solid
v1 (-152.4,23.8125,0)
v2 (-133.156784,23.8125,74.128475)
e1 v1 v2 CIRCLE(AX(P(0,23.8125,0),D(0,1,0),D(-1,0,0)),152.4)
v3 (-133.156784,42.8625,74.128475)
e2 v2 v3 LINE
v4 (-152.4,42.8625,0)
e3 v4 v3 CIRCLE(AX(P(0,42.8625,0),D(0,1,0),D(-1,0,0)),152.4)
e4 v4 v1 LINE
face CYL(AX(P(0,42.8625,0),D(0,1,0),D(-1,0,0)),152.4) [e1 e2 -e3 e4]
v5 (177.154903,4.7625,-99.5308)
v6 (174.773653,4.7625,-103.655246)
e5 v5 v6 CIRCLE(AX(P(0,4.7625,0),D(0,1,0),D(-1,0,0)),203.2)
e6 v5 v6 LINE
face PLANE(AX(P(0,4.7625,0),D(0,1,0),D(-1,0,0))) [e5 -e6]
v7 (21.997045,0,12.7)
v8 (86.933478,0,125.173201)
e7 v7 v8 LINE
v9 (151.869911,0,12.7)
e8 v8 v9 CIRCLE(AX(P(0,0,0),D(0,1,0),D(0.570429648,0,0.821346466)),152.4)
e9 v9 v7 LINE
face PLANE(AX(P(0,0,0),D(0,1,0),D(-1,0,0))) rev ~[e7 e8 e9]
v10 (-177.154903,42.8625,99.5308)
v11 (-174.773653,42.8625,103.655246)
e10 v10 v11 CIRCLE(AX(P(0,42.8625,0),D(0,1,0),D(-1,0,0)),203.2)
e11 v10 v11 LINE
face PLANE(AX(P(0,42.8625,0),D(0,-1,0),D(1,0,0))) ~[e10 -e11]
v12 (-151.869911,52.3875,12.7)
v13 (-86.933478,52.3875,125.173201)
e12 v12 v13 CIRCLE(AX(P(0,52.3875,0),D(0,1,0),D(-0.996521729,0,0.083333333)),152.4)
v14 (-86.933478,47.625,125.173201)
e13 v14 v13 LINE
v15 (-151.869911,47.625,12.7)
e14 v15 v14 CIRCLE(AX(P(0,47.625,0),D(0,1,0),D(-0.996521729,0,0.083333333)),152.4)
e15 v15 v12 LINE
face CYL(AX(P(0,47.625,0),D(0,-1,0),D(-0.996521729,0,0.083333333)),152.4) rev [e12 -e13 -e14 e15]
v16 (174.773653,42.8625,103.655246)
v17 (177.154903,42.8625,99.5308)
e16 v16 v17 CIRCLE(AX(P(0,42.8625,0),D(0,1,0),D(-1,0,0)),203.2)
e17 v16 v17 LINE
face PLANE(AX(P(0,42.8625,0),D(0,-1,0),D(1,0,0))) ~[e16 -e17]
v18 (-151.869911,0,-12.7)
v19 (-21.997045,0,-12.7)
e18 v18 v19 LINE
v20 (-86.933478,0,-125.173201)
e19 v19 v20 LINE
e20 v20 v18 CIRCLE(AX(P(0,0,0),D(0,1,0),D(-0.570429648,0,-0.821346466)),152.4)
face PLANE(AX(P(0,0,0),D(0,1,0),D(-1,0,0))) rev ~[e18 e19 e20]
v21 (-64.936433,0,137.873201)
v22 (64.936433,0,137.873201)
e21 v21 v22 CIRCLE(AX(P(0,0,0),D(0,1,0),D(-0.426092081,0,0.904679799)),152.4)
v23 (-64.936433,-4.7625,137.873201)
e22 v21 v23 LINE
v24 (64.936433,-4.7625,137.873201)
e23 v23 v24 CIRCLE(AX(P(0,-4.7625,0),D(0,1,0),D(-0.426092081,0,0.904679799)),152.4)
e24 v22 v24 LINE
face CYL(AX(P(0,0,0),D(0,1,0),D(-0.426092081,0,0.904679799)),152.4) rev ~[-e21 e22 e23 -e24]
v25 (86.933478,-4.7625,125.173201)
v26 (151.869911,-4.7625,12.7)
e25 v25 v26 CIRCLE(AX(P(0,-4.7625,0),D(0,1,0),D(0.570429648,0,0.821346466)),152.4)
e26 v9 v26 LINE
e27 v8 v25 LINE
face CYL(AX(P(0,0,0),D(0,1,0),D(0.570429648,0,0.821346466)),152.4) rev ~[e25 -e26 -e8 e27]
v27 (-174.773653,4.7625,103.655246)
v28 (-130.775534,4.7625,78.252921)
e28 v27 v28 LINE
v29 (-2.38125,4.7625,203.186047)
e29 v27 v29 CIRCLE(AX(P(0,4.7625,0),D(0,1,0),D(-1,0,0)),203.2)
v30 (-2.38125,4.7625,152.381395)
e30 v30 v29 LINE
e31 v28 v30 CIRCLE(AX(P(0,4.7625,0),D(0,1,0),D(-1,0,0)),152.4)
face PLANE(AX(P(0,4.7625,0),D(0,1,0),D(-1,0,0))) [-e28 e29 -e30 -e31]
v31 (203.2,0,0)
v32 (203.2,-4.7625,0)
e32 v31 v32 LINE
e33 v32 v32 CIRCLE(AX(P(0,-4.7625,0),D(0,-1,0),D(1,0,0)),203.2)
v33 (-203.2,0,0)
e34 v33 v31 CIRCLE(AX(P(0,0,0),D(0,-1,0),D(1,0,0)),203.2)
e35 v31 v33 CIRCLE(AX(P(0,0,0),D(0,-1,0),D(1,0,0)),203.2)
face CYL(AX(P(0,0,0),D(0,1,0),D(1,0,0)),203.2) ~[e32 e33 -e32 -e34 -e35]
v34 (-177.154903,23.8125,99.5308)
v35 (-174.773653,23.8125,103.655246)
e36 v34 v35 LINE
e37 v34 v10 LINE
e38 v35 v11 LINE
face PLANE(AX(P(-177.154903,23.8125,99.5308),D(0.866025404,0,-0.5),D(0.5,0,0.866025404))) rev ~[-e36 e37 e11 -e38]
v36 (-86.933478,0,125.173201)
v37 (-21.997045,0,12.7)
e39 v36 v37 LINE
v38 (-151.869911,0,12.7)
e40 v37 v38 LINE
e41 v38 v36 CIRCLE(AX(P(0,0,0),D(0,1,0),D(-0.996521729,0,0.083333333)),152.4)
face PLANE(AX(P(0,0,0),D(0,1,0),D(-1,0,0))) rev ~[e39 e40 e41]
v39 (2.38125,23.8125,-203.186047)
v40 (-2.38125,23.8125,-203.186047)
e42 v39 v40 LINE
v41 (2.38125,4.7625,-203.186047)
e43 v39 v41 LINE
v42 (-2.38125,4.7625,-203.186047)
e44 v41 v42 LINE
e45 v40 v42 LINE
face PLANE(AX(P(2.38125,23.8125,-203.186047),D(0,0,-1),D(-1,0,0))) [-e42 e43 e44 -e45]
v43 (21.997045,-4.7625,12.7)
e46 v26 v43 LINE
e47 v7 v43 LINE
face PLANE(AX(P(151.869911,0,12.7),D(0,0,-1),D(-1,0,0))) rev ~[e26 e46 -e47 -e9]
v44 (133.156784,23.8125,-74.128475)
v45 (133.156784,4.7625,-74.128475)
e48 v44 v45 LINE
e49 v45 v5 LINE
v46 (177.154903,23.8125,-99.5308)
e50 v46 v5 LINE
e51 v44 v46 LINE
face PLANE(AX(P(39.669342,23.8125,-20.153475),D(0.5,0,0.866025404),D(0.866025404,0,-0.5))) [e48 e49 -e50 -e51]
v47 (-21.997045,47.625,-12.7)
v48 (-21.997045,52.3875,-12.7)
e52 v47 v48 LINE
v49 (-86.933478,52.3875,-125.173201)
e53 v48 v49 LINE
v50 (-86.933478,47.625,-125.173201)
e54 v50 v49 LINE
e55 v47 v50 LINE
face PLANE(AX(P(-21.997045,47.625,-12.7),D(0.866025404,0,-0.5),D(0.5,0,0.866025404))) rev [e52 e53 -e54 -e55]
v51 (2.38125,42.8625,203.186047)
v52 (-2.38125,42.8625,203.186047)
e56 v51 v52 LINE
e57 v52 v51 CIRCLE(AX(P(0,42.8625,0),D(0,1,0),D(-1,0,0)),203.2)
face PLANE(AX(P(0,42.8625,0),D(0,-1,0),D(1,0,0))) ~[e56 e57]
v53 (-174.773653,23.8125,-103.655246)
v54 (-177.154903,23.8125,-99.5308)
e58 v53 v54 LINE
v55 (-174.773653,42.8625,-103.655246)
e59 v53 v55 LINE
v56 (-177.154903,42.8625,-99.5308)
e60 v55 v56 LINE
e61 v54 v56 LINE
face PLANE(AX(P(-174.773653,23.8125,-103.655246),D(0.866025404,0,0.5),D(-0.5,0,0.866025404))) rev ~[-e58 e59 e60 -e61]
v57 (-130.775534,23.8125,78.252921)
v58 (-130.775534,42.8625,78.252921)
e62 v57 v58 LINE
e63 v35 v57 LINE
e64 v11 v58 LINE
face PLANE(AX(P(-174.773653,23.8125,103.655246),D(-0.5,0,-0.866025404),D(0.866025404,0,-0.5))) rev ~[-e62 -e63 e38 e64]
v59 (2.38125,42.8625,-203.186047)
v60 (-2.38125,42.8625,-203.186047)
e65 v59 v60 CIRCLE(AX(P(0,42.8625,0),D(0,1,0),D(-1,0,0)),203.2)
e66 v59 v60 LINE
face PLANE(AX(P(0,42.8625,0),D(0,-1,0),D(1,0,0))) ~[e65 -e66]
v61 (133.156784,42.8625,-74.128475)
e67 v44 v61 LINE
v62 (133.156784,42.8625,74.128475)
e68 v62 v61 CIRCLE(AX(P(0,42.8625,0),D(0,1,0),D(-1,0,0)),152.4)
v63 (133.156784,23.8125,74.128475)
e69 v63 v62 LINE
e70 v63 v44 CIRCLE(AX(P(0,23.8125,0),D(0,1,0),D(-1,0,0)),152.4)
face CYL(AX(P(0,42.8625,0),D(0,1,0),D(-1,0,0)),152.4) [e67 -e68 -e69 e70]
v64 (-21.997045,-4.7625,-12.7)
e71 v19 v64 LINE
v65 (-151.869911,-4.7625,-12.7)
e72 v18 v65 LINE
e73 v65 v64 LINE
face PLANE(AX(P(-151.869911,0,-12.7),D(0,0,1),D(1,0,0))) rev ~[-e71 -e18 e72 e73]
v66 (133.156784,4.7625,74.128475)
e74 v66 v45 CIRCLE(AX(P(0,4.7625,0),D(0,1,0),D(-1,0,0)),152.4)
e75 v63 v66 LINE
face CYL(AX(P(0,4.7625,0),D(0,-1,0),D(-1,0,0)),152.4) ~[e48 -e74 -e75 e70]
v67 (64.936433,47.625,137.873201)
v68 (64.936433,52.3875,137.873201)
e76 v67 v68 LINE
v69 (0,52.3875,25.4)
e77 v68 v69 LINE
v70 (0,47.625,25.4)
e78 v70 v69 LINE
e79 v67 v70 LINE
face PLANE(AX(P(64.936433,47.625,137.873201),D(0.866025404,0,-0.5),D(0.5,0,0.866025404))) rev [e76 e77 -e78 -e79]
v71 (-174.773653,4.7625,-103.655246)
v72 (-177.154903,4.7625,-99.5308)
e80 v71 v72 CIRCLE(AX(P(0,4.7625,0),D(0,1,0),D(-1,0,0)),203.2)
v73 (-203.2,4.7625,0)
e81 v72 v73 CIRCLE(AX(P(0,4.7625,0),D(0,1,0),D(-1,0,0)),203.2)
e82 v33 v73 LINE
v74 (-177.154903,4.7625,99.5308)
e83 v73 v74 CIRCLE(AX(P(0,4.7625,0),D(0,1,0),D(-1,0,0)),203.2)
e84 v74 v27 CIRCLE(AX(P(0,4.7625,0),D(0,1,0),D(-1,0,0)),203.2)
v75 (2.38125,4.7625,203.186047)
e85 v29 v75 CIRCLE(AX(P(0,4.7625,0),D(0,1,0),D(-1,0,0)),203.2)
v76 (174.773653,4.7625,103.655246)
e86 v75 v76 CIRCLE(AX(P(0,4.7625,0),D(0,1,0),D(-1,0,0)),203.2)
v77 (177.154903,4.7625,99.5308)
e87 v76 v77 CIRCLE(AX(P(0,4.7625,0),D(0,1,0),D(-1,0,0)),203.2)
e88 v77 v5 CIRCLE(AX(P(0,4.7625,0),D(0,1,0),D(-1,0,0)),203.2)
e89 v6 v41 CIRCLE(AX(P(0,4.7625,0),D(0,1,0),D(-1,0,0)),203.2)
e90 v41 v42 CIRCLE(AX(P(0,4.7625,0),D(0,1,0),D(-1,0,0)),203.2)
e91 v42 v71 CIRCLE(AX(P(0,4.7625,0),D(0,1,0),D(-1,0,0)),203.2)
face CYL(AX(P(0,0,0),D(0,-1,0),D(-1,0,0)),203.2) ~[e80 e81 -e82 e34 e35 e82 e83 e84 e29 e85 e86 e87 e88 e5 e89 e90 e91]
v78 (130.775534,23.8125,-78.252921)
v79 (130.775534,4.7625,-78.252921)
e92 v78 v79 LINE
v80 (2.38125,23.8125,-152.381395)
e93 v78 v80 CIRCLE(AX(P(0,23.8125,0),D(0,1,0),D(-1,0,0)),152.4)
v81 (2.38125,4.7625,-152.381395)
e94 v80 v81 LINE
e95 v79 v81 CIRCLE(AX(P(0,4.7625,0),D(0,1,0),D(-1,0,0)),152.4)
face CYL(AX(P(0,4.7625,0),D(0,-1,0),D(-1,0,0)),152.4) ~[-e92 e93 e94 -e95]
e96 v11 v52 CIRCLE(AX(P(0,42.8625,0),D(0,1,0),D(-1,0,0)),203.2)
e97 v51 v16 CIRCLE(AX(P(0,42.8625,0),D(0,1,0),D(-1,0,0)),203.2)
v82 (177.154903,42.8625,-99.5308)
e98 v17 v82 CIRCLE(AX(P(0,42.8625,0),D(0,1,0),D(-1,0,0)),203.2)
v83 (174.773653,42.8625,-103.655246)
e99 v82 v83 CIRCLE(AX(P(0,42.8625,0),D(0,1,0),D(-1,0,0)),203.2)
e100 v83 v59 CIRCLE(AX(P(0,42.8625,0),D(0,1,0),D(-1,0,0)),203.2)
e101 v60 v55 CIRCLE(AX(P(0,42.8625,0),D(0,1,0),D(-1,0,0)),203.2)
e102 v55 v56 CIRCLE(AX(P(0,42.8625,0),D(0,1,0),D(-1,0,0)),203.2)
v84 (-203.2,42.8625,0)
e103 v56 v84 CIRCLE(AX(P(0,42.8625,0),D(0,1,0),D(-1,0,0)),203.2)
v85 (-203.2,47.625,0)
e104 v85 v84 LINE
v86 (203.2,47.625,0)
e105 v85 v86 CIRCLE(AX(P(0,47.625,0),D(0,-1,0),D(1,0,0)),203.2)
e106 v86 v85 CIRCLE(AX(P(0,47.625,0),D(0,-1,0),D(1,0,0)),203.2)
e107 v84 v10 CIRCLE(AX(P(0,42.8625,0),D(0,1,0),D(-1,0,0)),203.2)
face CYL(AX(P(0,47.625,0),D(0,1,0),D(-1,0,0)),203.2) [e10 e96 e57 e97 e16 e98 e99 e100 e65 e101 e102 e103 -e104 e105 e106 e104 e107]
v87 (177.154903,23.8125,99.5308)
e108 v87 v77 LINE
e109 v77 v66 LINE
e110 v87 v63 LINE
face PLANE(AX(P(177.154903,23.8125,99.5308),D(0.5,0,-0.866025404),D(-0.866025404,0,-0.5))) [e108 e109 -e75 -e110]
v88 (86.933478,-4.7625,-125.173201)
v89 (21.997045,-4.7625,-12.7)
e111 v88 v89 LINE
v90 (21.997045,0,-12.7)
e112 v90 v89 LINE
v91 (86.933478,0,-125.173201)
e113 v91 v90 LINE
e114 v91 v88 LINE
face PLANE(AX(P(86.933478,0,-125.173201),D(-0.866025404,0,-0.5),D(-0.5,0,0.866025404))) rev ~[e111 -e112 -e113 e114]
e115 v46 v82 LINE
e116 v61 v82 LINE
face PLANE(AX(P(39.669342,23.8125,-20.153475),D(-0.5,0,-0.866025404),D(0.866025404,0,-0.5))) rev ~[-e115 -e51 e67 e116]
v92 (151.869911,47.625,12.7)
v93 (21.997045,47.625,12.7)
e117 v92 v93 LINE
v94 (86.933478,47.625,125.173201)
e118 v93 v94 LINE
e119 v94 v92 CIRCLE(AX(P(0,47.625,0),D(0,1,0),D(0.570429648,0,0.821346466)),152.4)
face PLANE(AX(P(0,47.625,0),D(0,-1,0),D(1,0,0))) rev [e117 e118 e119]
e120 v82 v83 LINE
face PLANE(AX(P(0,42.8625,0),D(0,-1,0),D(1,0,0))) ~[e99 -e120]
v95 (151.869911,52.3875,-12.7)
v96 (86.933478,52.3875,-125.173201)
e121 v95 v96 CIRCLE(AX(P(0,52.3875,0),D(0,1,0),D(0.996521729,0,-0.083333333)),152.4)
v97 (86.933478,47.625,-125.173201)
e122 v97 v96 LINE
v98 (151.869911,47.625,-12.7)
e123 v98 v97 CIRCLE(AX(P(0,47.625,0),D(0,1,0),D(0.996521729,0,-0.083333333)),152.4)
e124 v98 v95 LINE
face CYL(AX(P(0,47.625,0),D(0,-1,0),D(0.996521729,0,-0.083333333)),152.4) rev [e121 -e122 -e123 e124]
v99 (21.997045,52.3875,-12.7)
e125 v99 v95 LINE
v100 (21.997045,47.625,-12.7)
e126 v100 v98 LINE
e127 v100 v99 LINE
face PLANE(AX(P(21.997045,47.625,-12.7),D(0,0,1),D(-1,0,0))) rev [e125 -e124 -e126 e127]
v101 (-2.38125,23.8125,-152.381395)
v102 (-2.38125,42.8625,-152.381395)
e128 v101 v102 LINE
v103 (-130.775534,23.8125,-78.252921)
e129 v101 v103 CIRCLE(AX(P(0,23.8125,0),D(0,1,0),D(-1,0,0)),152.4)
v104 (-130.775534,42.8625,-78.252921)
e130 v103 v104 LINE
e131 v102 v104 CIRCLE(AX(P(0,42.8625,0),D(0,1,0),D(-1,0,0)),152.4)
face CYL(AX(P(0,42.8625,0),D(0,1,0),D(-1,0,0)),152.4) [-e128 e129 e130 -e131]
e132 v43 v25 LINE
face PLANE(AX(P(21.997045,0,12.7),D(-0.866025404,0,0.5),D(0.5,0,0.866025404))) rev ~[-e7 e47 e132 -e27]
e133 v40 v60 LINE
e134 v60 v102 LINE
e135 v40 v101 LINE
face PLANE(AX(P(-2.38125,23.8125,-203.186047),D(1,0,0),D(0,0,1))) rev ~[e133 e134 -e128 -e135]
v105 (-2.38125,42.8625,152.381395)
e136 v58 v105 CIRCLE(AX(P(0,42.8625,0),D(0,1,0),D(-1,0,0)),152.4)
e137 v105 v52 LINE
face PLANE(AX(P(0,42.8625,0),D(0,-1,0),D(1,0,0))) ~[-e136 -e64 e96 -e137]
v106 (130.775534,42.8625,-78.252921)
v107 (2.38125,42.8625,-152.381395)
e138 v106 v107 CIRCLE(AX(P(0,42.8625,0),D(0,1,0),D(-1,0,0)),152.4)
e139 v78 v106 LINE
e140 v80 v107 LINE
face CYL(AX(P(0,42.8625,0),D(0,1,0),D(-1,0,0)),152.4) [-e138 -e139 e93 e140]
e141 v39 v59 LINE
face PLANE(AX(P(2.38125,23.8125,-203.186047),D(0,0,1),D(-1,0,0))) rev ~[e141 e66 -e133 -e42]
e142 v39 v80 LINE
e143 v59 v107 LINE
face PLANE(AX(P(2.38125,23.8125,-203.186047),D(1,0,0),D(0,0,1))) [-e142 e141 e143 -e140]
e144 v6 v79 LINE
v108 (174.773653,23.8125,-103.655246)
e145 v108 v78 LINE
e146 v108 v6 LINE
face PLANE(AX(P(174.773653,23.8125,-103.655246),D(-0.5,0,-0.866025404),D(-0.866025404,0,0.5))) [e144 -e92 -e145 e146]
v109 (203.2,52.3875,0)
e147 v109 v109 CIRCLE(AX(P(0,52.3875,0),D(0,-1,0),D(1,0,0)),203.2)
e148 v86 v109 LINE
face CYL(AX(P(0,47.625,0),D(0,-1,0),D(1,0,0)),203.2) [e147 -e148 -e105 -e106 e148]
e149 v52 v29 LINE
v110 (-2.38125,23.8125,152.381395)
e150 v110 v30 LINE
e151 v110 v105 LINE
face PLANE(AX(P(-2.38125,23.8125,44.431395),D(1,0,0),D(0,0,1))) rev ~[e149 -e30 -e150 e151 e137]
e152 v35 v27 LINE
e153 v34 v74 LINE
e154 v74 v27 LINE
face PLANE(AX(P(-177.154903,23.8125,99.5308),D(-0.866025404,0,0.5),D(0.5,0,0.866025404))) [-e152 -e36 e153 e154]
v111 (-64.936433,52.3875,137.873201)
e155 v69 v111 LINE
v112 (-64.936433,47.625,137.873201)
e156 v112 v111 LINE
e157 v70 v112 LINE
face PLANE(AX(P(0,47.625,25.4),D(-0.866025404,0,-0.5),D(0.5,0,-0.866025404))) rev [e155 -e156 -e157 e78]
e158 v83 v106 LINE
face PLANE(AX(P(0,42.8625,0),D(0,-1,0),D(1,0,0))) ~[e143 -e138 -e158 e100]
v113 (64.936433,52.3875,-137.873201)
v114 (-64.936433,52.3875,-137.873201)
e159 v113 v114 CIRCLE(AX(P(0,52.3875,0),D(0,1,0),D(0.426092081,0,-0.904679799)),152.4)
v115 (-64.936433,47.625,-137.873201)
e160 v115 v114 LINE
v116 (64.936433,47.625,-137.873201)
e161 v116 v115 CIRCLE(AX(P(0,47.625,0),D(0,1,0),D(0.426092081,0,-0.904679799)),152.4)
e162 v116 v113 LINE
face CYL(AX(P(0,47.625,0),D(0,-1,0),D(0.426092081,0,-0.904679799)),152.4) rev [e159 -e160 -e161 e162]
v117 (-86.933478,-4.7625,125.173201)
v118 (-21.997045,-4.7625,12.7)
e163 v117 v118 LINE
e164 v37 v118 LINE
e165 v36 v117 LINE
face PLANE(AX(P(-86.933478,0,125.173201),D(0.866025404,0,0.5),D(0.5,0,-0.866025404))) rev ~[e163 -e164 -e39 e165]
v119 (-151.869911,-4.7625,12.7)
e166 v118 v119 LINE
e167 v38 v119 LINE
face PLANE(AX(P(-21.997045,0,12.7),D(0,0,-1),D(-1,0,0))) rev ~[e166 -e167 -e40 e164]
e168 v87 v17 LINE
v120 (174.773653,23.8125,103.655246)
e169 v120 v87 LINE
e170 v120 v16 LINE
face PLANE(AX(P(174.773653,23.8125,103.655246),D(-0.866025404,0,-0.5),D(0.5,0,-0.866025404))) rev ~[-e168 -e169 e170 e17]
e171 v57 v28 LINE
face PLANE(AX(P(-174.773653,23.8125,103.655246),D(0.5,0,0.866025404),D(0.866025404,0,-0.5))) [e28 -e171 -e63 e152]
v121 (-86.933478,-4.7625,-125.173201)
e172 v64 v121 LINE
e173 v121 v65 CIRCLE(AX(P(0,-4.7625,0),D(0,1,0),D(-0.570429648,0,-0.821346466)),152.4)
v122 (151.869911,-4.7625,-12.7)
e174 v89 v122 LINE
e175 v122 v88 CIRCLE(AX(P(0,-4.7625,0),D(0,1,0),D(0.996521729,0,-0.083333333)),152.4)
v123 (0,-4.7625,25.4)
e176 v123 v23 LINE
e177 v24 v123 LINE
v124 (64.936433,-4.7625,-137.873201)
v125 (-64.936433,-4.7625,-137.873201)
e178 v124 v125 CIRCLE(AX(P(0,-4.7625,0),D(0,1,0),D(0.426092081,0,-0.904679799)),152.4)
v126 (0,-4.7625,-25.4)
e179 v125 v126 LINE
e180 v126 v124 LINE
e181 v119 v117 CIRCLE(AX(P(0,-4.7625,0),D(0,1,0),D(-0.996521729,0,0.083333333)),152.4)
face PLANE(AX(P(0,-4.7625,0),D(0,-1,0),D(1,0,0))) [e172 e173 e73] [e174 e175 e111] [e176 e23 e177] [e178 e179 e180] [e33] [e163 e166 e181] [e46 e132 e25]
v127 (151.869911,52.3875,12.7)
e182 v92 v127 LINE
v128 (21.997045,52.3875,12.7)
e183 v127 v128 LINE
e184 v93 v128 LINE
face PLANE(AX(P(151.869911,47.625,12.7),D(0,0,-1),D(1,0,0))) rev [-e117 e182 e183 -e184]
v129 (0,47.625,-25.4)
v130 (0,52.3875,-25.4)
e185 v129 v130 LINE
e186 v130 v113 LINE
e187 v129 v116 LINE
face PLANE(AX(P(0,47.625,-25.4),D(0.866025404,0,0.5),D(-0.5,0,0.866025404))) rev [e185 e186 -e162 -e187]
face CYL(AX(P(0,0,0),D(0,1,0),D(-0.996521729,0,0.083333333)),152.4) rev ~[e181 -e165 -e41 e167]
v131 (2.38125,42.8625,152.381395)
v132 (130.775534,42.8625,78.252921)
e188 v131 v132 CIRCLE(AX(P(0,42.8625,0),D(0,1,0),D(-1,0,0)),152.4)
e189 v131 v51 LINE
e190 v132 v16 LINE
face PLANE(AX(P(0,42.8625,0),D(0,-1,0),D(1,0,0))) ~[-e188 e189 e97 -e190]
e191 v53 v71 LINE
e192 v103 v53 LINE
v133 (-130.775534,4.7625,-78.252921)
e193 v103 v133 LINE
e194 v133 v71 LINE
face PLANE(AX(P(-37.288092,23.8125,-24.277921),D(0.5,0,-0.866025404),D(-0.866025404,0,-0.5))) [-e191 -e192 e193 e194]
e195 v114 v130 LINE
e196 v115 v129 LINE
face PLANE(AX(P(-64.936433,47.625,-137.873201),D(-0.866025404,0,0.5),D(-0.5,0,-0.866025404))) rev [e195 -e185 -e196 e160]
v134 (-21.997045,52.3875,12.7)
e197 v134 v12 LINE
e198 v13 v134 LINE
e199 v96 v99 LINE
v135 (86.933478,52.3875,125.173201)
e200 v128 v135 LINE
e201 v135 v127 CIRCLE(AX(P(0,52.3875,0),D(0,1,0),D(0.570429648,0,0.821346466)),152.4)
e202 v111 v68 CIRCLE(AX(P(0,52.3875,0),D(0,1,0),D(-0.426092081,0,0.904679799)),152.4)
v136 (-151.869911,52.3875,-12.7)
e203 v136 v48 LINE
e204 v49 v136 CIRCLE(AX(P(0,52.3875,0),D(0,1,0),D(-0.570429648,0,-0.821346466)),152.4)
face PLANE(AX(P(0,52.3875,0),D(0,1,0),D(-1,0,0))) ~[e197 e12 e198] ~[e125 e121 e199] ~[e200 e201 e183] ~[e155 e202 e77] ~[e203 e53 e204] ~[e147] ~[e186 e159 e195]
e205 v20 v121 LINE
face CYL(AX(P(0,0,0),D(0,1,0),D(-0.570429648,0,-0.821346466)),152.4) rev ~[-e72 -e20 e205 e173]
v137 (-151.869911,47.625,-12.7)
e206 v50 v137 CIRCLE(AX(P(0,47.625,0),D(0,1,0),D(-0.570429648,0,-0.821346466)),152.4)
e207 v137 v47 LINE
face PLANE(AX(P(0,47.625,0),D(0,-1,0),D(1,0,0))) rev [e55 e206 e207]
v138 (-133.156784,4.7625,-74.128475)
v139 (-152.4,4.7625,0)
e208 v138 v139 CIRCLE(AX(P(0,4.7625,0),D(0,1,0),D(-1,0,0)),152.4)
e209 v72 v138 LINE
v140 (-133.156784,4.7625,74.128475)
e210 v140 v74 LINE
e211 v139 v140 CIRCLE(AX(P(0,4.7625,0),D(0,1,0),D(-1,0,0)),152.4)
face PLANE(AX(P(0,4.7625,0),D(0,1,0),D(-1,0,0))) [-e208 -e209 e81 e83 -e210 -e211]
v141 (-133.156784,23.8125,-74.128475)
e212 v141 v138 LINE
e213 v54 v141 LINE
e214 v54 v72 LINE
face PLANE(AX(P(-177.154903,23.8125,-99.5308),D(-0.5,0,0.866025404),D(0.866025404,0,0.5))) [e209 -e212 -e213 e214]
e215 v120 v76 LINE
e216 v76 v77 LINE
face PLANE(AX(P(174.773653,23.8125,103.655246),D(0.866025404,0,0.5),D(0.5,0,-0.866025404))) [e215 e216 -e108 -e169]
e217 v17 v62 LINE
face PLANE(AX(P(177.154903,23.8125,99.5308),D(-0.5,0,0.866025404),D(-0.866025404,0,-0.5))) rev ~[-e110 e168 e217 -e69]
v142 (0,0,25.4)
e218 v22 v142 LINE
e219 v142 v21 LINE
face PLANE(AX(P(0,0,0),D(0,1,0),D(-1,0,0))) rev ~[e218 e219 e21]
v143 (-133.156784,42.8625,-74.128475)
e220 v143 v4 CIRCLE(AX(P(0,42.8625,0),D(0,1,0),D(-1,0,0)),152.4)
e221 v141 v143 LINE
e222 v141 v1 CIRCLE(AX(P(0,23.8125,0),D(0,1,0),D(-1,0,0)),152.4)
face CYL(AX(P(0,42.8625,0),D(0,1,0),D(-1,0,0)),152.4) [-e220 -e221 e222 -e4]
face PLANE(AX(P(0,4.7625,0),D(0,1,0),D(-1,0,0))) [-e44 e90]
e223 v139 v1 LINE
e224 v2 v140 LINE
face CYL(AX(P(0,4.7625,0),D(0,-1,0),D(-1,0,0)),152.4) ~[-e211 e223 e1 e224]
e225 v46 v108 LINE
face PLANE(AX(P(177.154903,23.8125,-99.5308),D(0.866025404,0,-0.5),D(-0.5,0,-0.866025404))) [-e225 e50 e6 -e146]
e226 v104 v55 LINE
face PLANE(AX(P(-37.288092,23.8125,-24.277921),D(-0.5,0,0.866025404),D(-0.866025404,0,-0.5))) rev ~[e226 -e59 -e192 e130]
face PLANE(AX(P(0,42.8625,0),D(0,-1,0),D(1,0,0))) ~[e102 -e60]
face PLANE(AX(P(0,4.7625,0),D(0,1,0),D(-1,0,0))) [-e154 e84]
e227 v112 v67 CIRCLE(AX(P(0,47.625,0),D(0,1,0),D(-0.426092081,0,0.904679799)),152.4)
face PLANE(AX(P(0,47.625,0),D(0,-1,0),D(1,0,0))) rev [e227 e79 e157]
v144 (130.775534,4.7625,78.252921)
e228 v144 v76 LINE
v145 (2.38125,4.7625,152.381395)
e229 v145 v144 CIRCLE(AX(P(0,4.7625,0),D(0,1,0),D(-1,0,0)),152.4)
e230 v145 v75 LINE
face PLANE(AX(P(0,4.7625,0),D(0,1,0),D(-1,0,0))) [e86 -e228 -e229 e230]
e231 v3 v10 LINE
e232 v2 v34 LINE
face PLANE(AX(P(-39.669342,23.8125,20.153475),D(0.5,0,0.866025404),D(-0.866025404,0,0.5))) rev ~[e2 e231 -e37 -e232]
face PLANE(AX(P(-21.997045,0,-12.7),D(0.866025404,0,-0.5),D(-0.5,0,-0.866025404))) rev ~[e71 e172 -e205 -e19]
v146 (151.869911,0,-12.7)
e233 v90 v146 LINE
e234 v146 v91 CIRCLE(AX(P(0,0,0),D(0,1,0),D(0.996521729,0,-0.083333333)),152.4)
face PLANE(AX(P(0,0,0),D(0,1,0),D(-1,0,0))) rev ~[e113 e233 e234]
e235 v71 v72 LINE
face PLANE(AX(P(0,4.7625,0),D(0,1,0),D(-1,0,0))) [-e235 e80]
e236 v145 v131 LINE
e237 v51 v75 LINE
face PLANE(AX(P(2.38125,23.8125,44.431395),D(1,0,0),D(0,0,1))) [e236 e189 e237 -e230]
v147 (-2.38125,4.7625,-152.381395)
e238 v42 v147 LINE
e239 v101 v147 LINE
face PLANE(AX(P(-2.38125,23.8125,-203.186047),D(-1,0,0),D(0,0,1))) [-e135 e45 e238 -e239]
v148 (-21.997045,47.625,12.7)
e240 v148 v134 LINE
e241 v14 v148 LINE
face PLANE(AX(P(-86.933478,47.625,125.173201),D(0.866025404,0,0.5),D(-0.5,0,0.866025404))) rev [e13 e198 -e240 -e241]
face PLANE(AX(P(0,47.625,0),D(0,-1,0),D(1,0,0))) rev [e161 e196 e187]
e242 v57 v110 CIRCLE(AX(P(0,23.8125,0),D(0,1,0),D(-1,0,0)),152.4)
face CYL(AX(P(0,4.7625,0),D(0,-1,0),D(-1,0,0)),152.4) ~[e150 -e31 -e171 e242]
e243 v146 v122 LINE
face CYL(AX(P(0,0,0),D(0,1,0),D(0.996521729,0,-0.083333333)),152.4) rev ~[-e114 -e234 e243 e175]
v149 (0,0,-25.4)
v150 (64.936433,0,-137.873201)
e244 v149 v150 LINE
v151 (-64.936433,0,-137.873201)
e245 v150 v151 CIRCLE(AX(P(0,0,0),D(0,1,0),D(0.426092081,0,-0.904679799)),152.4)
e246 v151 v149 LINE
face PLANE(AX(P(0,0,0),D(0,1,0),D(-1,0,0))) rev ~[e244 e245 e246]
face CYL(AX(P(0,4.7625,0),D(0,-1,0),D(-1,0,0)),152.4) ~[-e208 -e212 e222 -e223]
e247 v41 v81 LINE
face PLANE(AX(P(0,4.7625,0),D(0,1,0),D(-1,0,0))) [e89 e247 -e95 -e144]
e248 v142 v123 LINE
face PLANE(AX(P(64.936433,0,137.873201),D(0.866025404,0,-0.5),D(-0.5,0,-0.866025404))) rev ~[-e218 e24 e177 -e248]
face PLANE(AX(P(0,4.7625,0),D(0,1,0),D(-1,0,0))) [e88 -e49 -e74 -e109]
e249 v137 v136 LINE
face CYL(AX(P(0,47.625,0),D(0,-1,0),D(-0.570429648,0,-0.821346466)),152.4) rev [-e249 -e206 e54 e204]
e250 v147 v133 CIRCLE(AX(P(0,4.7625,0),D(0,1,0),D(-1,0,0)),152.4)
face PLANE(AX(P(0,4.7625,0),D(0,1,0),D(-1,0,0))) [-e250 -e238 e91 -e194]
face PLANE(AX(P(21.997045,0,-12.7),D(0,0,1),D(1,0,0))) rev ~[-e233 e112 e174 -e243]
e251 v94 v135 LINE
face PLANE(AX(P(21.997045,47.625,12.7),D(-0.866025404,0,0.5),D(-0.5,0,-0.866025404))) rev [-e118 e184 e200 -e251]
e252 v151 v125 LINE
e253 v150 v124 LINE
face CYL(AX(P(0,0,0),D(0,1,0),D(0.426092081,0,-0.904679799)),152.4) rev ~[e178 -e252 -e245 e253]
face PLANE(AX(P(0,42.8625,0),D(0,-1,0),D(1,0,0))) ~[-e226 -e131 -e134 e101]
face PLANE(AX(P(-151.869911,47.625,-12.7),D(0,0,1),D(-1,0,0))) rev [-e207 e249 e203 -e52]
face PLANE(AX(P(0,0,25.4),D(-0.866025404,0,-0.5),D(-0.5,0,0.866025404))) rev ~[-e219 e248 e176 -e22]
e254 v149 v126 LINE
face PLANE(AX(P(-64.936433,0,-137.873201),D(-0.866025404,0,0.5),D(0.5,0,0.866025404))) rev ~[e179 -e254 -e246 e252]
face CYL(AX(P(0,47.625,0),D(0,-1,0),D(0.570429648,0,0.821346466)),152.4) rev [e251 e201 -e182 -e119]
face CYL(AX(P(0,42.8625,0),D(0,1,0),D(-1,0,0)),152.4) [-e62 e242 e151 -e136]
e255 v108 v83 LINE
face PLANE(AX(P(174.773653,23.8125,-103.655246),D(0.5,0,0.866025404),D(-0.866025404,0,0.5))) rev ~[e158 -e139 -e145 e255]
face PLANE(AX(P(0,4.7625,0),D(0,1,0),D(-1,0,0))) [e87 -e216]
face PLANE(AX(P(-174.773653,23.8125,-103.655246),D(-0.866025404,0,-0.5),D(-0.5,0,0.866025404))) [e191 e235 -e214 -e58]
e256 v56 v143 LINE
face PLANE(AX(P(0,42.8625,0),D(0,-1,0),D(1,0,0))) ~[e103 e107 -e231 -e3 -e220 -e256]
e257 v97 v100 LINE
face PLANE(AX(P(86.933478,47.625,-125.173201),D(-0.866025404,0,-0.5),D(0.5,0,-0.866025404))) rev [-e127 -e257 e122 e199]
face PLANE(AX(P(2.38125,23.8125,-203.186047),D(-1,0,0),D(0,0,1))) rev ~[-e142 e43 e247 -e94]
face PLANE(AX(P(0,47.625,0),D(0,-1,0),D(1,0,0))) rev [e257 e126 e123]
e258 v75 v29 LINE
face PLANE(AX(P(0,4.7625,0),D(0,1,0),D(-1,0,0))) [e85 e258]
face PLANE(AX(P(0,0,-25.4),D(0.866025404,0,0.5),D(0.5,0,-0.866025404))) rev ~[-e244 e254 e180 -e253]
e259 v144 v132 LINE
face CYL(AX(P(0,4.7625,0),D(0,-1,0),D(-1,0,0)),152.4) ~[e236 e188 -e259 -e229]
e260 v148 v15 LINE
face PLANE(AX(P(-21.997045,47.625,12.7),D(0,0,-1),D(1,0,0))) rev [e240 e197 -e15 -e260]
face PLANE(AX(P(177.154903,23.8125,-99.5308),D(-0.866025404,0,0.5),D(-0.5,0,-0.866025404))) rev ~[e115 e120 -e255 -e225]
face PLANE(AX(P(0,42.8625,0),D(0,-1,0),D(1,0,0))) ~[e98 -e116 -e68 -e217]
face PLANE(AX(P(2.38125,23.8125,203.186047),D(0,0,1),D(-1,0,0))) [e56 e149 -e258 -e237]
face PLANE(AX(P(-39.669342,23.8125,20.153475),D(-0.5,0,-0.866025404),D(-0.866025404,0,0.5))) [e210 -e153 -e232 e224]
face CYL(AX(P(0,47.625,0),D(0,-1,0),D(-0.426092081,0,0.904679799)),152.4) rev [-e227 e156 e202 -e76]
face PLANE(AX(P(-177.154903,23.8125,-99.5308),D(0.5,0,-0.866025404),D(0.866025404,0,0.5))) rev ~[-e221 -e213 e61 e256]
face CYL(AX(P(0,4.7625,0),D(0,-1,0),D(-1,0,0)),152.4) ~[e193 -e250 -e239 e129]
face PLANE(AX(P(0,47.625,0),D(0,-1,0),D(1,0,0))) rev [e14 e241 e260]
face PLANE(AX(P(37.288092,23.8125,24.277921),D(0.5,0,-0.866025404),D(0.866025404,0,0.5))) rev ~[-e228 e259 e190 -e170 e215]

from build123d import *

# Parameters (mm, degrees)
F0_R           = 203.2
F1_DEPTH       = 4.7625
F2_R           = 203.2
F3_DEPTH       = 4.7625
F4_R           = 152.4
F5_DEPTH       = 19.05
F6_W           = 4.7625
F6_H           = 158.7546515355
F7_DEPTH       = 19.05
F10_DEPTH      = 19.05
F10_DEPTH_BACK = 19.05


with BuildPart() as f1:
    # F0 (on Front) → F1 (new body)
    with BuildSketch(Plane.XZ):
        Circle(F0_R)
        with BuildLine():
            ThreePointArc((-86.9334783468, -125.1732013753), (-131.9822715367, -76.2), (-151.8699114374, -12.7))
            Line((-151.8699114374, -12.7), (-21.9970452561, -12.7))
            Line((-21.9970452561, -12.7), (-86.9334783468, -125.1732013753))
        make_face(mode=Mode.SUBTRACT)
        with BuildLine():
            ThreePointArc((64.9364330906, -137.8732013753), (0, -152.4), (-64.9364330906, -137.8732013753))
            Line((-64.9364330906, -137.8732013753), (0, -25.4))
            Line((0, -25.4), (64.9364330906, -137.8732013753))
        make_face(mode=Mode.SUBTRACT)
        with BuildLine():
            Line((21.9970452561, -12.7), (151.8699114374, -12.7))
            ThreePointArc((151.8699114374, -12.7), (131.9822715367, -76.2), (86.9334783468, -125.1732013753))
            Line((86.9334783468, -125.1732013753), (21.9970452561, -12.7))
        make_face(mode=Mode.SUBTRACT)
        with BuildLine():
            ThreePointArc((-151.8699114374, 12.7), (-131.9822715367, 76.2), (-86.9334783468, 125.1732013753))
            Line((-86.9334783468, 125.1732013753), (-21.9970452561, 12.7))
            Line((-21.9970452561, 12.7), (-151.8699114374, 12.7))
        make_face(mode=Mode.SUBTRACT)
        with BuildLine():
            ThreePointArc((-64.9364330906, 137.8732013753), (0, 152.4), (64.9364330906, 137.8732013753))
            Line((64.9364330906, 137.8732013753), (0, 25.4))
            Line((0, 25.4), (-64.9364330906, 137.8732013753))
        make_face(mode=Mode.SUBTRACT)
        with BuildLine():
            ThreePointArc((86.9334783468, 125.1732013753), (131.9822715367, 76.2), (151.8699114374, 12.7))
            Line((151.8699114374, 12.7), (21.9970452561, 12.7))
            Line((21.9970452561, 12.7), (86.9334783468, 125.1732013753))
        make_face(mode=Mode.SUBTRACT)
    extrude(amount=F1_DEPTH)

    # F2 (on face) → F3 (join)
    with BuildSketch(Plane(origin=(0, 0, 0), x_dir=(-1, 0, 0), z_dir=(0, 1, 0))):
        Circle(F2_R)
    extrude(amount=F3_DEPTH)

    # F4 (on face) → F5 (join)
    with BuildSketch(Plane(origin=(0, 4.7625, 0), x_dir=(-1, 0, 0), z_dir=(0, 1, 0))):
        Circle(F4_R)
    extrude(amount=F5_DEPTH)

    # F6 (on face) → F7 (cut, through all)
    with BuildSketch(Plane(origin=(0, 23.8125, 0), x_dir=(-1, 0, 0), z_dir=(0, 1, 0))):
        with Locations((0, 123.8087211165)):
            Rectangle(F6_W, F6_H)
        Polygon((-37.2880920976, 24.2779206671), (-174.7736532963, 103.6552464349), (-177.1549032963, 99.5308004494), (-39.6693420976, 20.1534746816), align=None)
        Polygon((-39.6693420976, -20.1534746816), (-177.1549032963, -99.5308004494), (-174.7736532963, -103.6552464349), (-37.2880920976, -24.2779206671), align=None)
        with Locations((0, -123.8087211165)):
            Rectangle(F6_W, F6_H)
        Polygon((37.2880920976, -24.2779206671), (174.7736532963, -103.6552464349), (177.1549032963, -99.5308004494), (39.6693420976, -20.1534746816), align=None)
        Polygon((39.6693420976, 20.1534746816), (177.1549032963, 99.5308004494), (174.7736532963, 103.6552464349), (37.2880920976, 24.2779206671), align=None)
    extrude(amount=-F7_DEPTH, mode=Mode.SUBTRACT)

    # F9: F1 across plane


with BuildPart() as f1_1:
    add(f1.part)
    add(f1.part.mirror(Plane(origin=(0, 23.8125, 0), x_dir=(-1, 0, 0), z_dir=(0, 1, 0))))

    # F6 (on face) → F10 (join, two sides)
    with BuildSketch(Plane(origin=(0, 23.8125, 0), x_dir=(-1, 0, 0), z_dir=(0, 1, 0))) as f10_sk:
        with Locations((0, 123.8087211165)):
            Rectangle(F6_W, F6_H)
        Polygon((-37.2880920976, 24.2779206671), (-174.7736532963, 103.6552464349), (-177.1549032963, 99.5308004494), (-39.6693420976, 20.1534746816), align=None)
        Polygon((-39.6693420976, -20.1534746816), (-177.1549032963, -99.5308004494), (-174.7736532963, -103.6552464349), (-37.2880920976, -24.2779206671), align=None)
        with Locations((0, -123.8087211165)):
            Rectangle(F6_W, F6_H)
        Polygon((37.2880920976, -24.2779206671), (174.7736532963, -103.6552464349), (177.1549032963, -99.5308004494), (39.6693420976, -20.1534746816), align=None)
        Polygon((39.6693420976, 20.1534746816), (177.1549032963, 99.5308004494), (174.7736532963, 103.6552464349), (37.2880920976, 24.2779206671), align=None)
    extrude(amount=-F10_DEPTH)
    extrude(f10_sk.sketch, amount=F10_DEPTH_BACK)


solid = f1_1.part
